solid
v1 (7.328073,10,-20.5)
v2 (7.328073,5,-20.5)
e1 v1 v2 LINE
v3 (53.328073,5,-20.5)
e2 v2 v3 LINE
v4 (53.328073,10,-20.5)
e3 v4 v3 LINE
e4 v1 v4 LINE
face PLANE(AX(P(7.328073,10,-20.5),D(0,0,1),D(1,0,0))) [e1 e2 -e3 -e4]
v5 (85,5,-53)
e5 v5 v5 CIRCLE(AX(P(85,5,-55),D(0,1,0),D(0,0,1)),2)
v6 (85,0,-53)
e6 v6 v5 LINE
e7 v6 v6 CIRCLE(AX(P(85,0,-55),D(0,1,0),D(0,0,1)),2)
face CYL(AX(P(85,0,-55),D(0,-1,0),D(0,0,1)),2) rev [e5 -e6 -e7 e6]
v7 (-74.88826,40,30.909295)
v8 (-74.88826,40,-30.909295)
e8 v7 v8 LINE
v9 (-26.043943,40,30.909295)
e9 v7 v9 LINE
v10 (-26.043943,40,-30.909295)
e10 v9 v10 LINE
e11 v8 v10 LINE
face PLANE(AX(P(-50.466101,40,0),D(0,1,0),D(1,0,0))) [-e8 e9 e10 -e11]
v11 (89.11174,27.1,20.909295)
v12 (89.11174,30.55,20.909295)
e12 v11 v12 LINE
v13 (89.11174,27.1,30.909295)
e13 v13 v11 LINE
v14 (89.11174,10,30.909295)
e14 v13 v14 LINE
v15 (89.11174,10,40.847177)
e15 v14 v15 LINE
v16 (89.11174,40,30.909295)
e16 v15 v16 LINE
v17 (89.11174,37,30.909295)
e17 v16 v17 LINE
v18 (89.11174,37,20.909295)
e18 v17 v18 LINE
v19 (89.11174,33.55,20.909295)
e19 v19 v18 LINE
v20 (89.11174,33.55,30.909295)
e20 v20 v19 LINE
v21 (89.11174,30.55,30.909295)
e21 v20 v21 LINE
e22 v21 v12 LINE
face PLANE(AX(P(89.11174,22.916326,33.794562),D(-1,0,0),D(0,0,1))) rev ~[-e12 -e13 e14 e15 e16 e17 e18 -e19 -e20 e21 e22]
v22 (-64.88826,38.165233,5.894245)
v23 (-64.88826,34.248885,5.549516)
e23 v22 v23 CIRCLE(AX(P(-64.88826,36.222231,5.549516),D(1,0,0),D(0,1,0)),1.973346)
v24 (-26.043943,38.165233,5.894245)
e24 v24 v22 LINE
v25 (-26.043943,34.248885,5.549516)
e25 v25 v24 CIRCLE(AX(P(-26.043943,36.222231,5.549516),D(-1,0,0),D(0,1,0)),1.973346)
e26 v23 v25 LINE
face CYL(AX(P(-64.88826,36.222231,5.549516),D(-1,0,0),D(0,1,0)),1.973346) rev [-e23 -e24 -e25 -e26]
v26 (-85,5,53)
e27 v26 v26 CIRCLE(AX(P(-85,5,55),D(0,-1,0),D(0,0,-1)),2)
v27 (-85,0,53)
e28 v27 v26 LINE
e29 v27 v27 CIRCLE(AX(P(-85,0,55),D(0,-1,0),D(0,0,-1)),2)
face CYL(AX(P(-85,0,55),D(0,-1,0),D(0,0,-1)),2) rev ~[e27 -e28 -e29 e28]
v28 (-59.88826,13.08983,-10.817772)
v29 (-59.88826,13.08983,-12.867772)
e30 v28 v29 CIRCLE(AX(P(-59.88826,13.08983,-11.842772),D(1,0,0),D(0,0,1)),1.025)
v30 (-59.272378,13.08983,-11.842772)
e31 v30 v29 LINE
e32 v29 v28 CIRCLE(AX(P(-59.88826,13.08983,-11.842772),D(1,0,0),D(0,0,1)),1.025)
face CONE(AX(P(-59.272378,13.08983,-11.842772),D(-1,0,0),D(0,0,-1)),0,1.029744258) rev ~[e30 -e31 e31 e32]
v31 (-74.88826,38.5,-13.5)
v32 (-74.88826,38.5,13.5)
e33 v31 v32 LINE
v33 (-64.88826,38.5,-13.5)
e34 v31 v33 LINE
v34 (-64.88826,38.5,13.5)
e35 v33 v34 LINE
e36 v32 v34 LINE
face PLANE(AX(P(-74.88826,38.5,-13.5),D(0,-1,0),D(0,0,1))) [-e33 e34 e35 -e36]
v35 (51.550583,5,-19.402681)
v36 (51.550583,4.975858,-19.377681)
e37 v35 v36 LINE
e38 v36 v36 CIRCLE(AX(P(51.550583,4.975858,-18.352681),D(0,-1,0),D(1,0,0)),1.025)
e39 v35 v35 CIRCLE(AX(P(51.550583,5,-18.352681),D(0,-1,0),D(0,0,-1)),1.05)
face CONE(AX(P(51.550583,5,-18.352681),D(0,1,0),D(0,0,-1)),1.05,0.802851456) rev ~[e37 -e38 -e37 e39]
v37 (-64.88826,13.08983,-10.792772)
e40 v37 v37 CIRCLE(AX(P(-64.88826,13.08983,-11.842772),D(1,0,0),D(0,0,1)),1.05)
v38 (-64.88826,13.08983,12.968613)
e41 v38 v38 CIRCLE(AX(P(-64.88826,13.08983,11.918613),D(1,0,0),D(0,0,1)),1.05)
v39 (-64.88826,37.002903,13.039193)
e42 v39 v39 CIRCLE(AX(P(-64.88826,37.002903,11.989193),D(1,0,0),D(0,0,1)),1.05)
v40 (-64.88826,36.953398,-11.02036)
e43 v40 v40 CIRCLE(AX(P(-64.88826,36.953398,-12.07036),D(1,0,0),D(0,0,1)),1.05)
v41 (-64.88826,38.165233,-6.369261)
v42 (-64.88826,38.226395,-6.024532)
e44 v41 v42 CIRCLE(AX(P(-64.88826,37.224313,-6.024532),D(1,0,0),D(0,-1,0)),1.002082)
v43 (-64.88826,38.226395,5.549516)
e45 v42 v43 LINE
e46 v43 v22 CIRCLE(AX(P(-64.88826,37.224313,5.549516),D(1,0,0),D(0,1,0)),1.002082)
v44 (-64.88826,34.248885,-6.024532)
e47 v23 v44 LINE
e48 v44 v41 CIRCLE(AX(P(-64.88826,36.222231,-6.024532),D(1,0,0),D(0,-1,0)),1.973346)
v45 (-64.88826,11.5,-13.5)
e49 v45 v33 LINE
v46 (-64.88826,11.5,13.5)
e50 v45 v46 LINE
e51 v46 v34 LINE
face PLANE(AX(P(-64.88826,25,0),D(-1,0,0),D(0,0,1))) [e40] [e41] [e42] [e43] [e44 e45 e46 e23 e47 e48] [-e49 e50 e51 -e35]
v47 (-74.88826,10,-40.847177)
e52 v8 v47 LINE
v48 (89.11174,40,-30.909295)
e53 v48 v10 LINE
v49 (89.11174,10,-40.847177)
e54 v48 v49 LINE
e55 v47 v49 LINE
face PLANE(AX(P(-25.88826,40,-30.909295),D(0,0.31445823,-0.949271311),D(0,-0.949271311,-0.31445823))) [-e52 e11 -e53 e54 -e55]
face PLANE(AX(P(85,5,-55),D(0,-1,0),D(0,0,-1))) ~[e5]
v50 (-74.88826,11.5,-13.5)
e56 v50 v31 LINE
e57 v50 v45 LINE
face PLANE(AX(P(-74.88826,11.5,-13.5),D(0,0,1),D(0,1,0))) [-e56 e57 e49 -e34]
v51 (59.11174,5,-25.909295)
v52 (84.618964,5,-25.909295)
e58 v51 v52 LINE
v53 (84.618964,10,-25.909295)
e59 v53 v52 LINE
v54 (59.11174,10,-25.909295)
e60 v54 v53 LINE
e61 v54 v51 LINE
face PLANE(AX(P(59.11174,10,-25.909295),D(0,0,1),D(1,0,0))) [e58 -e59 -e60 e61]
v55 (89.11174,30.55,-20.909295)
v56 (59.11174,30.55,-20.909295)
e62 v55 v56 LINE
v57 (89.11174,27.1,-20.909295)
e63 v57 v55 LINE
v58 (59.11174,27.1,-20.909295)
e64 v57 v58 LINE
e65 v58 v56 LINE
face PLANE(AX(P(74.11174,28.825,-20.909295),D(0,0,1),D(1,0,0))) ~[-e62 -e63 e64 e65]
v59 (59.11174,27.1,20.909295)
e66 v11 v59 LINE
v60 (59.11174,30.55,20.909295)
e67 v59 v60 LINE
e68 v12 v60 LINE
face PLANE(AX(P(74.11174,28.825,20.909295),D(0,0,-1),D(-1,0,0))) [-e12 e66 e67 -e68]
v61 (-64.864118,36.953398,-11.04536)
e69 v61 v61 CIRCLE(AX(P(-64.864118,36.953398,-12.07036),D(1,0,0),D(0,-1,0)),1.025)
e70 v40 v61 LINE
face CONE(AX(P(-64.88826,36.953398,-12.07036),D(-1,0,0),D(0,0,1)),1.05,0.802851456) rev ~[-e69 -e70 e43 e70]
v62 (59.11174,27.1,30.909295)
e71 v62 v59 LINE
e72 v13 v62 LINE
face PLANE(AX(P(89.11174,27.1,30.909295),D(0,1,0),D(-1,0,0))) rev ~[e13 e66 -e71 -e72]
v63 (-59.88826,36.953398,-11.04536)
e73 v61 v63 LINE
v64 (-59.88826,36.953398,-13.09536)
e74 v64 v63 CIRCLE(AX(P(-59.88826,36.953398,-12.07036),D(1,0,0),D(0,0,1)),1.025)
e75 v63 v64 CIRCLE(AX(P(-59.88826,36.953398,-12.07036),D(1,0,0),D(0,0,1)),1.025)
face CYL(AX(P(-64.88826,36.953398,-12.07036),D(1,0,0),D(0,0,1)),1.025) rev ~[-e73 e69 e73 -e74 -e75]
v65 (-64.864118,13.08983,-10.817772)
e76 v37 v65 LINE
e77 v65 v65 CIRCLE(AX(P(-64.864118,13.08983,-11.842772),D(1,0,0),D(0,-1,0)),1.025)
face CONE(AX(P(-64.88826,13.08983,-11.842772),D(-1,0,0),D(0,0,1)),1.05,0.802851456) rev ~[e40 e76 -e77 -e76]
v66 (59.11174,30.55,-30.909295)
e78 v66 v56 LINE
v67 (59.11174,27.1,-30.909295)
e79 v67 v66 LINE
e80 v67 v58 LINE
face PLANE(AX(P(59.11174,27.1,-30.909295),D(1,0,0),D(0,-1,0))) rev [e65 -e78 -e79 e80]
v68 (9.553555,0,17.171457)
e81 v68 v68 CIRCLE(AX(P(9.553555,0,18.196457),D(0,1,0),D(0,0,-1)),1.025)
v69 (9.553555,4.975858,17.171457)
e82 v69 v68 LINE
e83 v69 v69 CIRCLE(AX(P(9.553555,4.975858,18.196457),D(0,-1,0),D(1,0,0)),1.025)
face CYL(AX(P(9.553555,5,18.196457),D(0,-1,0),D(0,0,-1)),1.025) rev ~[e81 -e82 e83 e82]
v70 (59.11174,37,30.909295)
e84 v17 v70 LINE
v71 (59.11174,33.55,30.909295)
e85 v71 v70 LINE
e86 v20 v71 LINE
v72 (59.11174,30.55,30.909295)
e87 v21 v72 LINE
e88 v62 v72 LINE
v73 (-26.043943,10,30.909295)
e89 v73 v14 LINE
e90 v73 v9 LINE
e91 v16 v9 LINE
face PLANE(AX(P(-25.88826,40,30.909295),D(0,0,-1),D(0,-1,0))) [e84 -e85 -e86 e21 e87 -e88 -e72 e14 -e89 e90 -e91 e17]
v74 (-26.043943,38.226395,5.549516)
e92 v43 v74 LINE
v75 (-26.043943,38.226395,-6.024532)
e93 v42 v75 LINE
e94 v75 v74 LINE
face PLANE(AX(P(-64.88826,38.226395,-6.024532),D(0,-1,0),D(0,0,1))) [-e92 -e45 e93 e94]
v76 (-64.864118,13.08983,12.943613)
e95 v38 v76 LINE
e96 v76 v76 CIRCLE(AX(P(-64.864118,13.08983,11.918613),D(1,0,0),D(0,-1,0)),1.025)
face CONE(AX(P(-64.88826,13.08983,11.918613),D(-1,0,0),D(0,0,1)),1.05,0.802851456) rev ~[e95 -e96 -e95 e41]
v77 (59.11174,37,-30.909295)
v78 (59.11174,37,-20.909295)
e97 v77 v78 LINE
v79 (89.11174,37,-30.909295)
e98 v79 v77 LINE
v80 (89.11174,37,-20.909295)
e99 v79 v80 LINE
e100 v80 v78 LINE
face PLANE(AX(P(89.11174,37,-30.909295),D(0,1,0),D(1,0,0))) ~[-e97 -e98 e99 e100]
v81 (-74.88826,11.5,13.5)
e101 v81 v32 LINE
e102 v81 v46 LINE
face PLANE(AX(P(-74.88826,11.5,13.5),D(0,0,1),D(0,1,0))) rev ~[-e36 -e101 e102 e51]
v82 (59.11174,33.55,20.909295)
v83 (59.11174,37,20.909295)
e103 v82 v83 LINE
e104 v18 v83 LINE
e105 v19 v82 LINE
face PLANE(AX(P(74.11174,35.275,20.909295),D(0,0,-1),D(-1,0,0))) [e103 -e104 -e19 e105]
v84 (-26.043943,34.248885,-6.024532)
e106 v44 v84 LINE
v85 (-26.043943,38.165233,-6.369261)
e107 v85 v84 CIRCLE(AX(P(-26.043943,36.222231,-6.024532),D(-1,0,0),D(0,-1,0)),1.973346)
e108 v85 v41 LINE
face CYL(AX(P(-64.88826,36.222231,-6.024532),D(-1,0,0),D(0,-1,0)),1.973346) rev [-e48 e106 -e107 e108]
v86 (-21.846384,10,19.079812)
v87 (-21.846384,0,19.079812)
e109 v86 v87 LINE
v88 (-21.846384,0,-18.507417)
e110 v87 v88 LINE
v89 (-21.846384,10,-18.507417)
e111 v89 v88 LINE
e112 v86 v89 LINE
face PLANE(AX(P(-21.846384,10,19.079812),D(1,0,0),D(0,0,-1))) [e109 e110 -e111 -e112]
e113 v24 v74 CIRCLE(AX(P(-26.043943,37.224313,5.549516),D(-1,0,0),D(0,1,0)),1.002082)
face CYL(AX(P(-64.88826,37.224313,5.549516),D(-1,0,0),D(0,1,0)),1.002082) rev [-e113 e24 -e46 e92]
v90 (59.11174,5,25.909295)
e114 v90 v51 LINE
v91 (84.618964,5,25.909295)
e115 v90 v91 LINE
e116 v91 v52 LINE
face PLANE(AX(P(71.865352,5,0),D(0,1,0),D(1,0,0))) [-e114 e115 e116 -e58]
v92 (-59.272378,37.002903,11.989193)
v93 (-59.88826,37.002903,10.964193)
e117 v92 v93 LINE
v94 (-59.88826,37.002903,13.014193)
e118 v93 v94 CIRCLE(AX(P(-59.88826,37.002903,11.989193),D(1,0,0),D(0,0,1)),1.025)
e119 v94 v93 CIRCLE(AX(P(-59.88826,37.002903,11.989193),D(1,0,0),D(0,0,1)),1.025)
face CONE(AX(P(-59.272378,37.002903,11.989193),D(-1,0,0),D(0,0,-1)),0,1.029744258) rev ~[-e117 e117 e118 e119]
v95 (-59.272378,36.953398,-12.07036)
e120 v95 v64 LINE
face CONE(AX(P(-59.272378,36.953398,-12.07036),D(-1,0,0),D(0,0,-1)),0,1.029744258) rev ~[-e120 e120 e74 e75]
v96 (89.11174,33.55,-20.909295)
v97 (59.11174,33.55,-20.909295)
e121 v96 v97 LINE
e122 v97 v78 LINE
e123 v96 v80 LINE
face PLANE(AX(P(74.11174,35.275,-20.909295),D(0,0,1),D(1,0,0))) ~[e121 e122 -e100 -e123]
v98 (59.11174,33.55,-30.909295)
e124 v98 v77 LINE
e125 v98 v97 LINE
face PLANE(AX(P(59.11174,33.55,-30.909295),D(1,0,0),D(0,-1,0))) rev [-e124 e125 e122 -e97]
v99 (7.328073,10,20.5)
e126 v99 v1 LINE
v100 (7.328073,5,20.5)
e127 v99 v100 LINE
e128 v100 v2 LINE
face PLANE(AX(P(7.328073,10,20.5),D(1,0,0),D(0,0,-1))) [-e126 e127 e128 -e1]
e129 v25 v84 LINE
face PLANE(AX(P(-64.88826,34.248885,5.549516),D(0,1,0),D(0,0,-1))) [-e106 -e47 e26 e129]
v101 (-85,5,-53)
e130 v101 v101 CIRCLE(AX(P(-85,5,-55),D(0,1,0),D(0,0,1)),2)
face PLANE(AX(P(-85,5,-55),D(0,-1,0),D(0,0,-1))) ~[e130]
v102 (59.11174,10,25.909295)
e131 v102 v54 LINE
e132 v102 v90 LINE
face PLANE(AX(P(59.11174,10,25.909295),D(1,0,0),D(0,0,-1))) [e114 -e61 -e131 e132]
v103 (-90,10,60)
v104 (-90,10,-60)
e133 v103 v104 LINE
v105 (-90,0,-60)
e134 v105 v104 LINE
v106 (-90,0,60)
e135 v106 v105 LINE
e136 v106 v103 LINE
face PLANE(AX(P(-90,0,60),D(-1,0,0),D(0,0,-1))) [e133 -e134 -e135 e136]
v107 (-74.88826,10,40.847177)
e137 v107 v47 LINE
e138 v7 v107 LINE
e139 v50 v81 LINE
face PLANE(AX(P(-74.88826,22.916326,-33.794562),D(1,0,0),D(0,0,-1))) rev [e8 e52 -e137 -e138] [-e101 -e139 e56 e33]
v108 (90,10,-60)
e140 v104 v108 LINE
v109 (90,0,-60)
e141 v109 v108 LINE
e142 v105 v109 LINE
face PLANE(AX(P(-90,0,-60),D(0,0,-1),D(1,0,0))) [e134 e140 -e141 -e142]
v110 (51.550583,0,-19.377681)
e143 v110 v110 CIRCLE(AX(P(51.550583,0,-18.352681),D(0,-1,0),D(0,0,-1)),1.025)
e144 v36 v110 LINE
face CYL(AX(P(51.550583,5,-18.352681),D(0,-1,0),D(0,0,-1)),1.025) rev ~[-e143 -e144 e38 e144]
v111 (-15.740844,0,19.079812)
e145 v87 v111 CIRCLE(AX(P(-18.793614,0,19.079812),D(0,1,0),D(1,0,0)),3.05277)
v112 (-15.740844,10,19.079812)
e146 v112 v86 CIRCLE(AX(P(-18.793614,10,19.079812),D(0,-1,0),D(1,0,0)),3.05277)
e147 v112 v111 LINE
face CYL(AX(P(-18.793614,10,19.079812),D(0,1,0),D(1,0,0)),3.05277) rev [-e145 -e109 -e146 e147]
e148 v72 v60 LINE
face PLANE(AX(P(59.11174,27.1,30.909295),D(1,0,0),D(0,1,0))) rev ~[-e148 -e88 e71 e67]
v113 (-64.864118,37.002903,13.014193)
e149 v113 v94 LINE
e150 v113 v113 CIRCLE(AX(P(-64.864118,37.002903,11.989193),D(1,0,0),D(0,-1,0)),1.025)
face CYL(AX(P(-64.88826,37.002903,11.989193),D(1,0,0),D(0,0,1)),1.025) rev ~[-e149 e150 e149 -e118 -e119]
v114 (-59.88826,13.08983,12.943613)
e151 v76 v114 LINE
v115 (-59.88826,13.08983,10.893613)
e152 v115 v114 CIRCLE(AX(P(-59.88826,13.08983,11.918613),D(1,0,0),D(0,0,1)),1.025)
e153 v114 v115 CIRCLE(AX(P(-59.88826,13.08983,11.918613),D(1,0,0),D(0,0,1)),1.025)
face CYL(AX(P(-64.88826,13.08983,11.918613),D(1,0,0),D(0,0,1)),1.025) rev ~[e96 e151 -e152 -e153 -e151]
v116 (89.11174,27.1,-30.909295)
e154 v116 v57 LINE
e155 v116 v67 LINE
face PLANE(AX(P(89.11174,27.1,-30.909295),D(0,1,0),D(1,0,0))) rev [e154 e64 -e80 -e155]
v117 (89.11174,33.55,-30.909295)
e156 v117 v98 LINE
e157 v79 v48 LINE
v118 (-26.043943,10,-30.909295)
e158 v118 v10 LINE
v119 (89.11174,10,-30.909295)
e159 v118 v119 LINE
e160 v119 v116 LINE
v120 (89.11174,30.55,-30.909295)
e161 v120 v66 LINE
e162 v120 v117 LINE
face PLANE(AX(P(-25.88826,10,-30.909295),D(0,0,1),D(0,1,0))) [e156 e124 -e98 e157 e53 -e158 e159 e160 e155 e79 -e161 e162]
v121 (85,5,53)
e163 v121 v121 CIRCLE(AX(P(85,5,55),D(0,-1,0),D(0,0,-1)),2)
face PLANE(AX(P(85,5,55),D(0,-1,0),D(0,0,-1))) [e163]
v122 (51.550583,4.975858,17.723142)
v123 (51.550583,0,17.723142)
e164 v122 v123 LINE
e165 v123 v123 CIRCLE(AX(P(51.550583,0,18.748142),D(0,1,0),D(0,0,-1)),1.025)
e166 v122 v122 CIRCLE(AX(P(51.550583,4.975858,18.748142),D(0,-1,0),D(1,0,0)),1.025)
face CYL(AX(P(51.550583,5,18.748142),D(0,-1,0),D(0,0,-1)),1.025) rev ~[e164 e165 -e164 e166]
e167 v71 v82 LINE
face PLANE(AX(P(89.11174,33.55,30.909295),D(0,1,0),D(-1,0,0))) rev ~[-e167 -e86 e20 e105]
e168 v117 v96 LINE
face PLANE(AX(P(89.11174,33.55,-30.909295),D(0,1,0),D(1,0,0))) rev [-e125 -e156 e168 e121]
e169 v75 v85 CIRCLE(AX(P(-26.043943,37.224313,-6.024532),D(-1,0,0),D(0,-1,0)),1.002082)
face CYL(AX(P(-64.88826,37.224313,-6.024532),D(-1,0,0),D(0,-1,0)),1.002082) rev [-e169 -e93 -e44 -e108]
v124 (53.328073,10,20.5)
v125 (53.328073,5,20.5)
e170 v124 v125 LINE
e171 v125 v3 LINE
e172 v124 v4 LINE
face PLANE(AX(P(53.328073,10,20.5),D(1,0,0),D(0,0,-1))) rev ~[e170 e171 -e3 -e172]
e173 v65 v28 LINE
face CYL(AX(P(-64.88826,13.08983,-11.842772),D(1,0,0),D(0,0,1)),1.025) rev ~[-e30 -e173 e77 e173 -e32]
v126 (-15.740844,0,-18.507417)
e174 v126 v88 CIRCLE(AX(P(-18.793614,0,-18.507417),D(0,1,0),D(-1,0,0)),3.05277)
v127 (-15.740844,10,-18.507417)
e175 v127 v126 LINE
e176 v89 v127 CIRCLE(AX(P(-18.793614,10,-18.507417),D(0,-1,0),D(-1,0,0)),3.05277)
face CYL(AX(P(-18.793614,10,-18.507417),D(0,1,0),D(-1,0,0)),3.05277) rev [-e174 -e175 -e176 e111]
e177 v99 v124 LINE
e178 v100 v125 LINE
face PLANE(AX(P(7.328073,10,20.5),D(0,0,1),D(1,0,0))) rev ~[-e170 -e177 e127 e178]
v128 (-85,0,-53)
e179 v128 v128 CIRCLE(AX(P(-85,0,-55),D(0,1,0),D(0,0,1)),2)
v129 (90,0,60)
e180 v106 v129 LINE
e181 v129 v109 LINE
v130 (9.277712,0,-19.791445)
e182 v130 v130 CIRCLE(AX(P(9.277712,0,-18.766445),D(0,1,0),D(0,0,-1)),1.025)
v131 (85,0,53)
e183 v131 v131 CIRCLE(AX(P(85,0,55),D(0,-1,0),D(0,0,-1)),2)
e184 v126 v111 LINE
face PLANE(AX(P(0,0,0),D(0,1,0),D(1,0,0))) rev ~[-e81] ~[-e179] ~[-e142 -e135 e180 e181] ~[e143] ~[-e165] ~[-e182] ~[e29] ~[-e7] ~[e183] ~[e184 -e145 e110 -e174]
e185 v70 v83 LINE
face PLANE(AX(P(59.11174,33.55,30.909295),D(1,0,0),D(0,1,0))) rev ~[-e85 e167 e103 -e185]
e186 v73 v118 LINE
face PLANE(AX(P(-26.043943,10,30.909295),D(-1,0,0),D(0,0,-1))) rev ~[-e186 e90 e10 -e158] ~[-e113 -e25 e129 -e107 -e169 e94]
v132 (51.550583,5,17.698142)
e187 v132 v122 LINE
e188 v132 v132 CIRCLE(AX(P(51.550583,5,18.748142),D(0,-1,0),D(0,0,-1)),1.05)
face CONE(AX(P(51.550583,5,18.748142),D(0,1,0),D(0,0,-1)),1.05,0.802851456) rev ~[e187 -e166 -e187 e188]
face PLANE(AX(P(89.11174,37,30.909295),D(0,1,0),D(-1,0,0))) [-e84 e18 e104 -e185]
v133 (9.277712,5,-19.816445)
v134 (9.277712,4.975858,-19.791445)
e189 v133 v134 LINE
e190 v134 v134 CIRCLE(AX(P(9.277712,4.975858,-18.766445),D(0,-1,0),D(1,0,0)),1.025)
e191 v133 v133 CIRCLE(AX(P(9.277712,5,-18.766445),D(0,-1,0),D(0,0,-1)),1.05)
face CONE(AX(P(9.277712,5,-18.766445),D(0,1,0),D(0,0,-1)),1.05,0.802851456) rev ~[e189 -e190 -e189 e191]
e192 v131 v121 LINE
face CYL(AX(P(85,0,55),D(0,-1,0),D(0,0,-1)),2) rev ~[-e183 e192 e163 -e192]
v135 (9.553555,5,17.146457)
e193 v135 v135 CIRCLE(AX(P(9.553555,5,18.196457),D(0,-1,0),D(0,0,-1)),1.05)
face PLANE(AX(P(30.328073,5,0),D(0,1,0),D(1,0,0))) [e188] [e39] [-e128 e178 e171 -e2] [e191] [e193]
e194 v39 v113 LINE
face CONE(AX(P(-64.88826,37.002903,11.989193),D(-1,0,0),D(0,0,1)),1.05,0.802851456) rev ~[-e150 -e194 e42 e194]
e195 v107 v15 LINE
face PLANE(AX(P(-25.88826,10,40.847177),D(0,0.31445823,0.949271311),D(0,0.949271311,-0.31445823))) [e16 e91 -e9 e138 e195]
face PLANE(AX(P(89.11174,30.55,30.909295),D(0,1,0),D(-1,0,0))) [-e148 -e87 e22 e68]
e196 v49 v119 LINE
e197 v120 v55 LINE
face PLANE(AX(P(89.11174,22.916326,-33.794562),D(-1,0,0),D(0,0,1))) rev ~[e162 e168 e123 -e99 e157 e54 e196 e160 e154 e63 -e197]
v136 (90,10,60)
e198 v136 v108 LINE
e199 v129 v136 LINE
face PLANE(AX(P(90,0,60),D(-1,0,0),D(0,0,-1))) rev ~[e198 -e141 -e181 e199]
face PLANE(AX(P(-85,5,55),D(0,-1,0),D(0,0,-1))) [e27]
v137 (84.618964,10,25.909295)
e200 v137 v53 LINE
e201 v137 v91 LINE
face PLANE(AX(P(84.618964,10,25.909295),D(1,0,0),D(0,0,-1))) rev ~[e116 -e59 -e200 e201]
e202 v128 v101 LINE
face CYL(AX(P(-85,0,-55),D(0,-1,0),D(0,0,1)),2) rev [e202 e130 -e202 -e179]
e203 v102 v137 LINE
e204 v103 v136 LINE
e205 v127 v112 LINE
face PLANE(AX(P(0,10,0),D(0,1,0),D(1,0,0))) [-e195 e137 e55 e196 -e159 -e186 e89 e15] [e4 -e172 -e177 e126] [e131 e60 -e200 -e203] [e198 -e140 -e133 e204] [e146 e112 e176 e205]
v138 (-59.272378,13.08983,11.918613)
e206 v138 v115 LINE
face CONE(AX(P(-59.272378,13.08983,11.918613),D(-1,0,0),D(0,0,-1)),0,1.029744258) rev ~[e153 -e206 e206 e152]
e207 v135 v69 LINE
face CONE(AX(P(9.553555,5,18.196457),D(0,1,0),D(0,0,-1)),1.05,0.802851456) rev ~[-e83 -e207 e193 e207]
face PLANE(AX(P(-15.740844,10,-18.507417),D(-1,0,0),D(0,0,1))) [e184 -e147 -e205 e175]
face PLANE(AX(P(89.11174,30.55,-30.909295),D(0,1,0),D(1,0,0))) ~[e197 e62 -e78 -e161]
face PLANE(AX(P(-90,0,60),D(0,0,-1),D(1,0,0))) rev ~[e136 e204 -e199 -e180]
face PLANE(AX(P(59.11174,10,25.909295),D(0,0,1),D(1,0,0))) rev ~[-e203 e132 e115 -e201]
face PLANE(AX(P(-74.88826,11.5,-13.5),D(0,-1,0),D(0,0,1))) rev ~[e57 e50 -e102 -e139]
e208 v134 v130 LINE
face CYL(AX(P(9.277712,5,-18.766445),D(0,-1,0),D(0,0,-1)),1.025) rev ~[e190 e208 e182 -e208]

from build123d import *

# Parameters (mm, degrees)
SKETCH1_W                           = 180
SKETCH1_H                           = 120
BOSS_EXTRUDE1_DEPTH                 = 10
SKETCH2_W                           = 48.844317462
SKETCH2_H                           = 61.818589288
BOSS_EXTRUDE2_DEPTH                 = 30
SKETCH3_W                           = 27
SKETCH3_H                           = 27
CUT_EXTRUDE1_DEPTH                  = 10
CUT_EXTRUDE5_DEPTH                  = 171.851904114
TAP_DRILL_FOR_M2_5_TAP1_D           = 2.05
TAP_DRILL_FOR_M2_5_TAP1_DEPTH       = 5
TAP_DRILL_FOR_M2_5_TAP1_CSINK_D     = 2.1
TAP_DRILL_FOR_M2_5_TAP1_CSINK_ANGLE = 92
TAP_DRILL_FOR_M2_5_TAP1_TIP         = 0.615882135
CUT_EXTRUDE6_DEPTH                  = 113.249721603
BOSS_EXTRUDE3_DEPTH                 = 49
SKETCH14_W                          = 46
SKETCH14_H                          = 41
CUT_EXTRUDE8_DEPTH                  = 5
TAP_DRILL_FOR_M2_5_TAP2_D           = 2.05
TAP_DRILL_FOR_M2_5_TAP2_DEPTH       = 5
TAP_DRILL_FOR_M2_5_TAP2_CSINK_D     = 2.1
TAP_DRILL_FOR_M2_5_TAP2_CSINK_ANGLE = 92
TAP_DRILL_FOR_M2_5_TAP2_TIP         = 0.615882135
BOSS_EXTRUDE5_DEPTH                 = 115
BOSS_EXTRUDE6_DEPTH                 = 115
SKETCH29_W                          = 30
SKETCH29_H                          = 3.45
BOSS_EXTRUDE10_DEPTH                = 10
SKETCH34_R                          = 2
CUT_EXTRUDE10_DEPTH                 = 5
SKETCH25_R                          = 2
CUT_EXTRUDE11_DEPTH                 = 5
SKETCH36_W                          = 25.507224214
SKETCH36_H                          = 51.818589288
CUT_EXTRUDE12_DEPTH                 = 5
CUT_EXTRUDE14_DEPTH                 = 171.851904114


with BuildPart() as part:
    # Sketch1 → Boss-Extrude1 (new body)
    with BuildSketch(Plane(origin=(0, 0, 0), x_dir=(1, 0, 0), z_dir=(0, 1, 0))):
        Rectangle(SKETCH1_W, SKETCH1_H)
    extrude(amount=BOSS_EXTRUDE1_DEPTH)

    # Sketch2 → Boss-Extrude2 (add)
    with BuildSketch(Plane(origin=(0, 10, 0), x_dir=(1, 0, 0), z_dir=(0, 1, 0))):
        with Locations((-50.466101441, 0)):
            Rectangle(SKETCH2_W, SKETCH2_H)
    extrude(amount=BOSS_EXTRUDE2_DEPTH)

    # Sketch3 → Cut-Extrude1 (cut)
    with BuildSketch(Plane.ZY.offset(74.888260172)):
        with Locations((0, 25)):
            Rectangle(SKETCH3_W, SKETCH3_H)
    extrude(amount=-CUT_EXTRUDE1_DEPTH, mode=Mode.SUBTRACT)

    # Sketch4 → Cut-Extrude5 (cut, through all)
    with BuildSketch(Plane.ZY.offset(64.888260172)):
        with BuildLine():
            Line((-6.024531525, 38.226394973), (5.549516036, 38.226394973))
            ThreePointArc((5.549516036, 38.226394973), (6.551598076, 37.224312933), (5.549516036, 36.222230893))
            Line((5.549516036, 36.222230893), (-6.024531525, 36.222230893))
            ThreePointArc((-6.024531525, 36.222230893), (-7.026613565, 37.224312933), (-6.024531525, 38.226394973))
        make_face()
    extrude(amount=-CUT_EXTRUDE5_DEPTH, mode=Mode.SUBTRACT)

    # Tap Drill for M2.5 Tap1
    with Locations(Plane(origin=(-64.888260172, 36.953397965, -12.070360422), x_dir=(0, 0, -1), z_dir=(-1, 0, 0))):
        with Locations((0, 0), (-24.059553717, -0.049505255), (-23.988973263, 23.863567836), (-0.227588633, 23.863567836)):
            CounterSinkHole(TAP_DRILL_FOR_M2_5_TAP1_D / 2, TAP_DRILL_FOR_M2_5_TAP1_CSINK_D / 2, depth=TAP_DRILL_FOR_M2_5_TAP1_DEPTH, counter_sink_angle=TAP_DRILL_FOR_M2_5_TAP1_CSINK_ANGLE)
            with Locations((0, 0, -(TAP_DRILL_FOR_M2_5_TAP1_DEPTH + TAP_DRILL_FOR_M2_5_TAP1_TIP / 2))):  # 118° drill point
                Cone(0, TAP_DRILL_FOR_M2_5_TAP1_D / 2, TAP_DRILL_FOR_M2_5_TAP1_TIP, mode=Mode.SUBTRACT)

    # Sketch9 → Cut-Extrude6 (cut, through all)
    with BuildSketch(Plane(origin=(0, 10, 0), x_dir=(1, 0, 0), z_dir=(0, 1, 0))):
        with BuildLine():
            Line((-21.846384178, -19.079811509), (-21.846384178, 18.507417164))
            ThreePointArc((-21.846384178, 18.507417164), (-18.793614336, 21.560187005), (-15.740844495, 18.507417164))
            Line((-15.740844495, 18.507417164), (-15.740844495, -19.079811509))
            ThreePointArc((-15.740844495, -19.079811509), (-18.793614336, -22.13258135), (-21.846384178, -19.079811509))
        make_face()
    extrude(amount=-CUT_EXTRUDE6_DEPTH, mode=Mode.SUBTRACT)

    # Sketch10 → Boss-Extrude3 (add)
    with BuildSketch(Plane.ZY.offset(74.888260172)):
        Polygon((30.909294644, 10), (30.909294644, 40), (40.847177304, 10), align=None)
    boss_extrude3 = extrude(amount=-BOSS_EXTRUDE3_DEPTH)

    # Mirror2: Boss-Extrude3 across plane
    add(boss_extrude3.mirror(Plane.XY))

    # Sketch14 → Cut-Extrude8 (cut)
    with BuildSketch(Plane(origin=(0, 10, 0), x_dir=(1, 0, 0), z_dir=(0, 1, 0))):
        with Locations((30.328073167, 0)):
            Rectangle(SKETCH14_W, SKETCH14_H)
    extrude(amount=-CUT_EXTRUDE8_DEPTH, mode=Mode.SUBTRACT)

    # Tap Drill for M2.5 Tap2
    with Locations(Plane(origin=(9.553554548, 5, 18.196456661), x_dir=(0, 0, 1), z_dir=(0, 1, 0))):
        with Locations((0, 0), (-36.962901754, -0.27584255), (-36.549137929, 41.997028299), (0.551685101, 41.997028299)):
            CounterSinkHole(TAP_DRILL_FOR_M2_5_TAP2_D / 2, TAP_DRILL_FOR_M2_5_TAP2_CSINK_D / 2, depth=TAP_DRILL_FOR_M2_5_TAP2_DEPTH, counter_sink_angle=TAP_DRILL_FOR_M2_5_TAP2_CSINK_ANGLE)
            with Locations((0, 0, -(TAP_DRILL_FOR_M2_5_TAP2_DEPTH + TAP_DRILL_FOR_M2_5_TAP2_TIP / 2))):  # 118° drill point
                Cone(0, TAP_DRILL_FOR_M2_5_TAP2_D / 2, TAP_DRILL_FOR_M2_5_TAP2_TIP, mode=Mode.SUBTRACT)

    # Sketch18 → Boss-Extrude5 (add)
    with BuildSketch(Plane(origin=(-25.888260172, 0, 0), x_dir=(0, 0, -1), z_dir=(1, 0, 0))):
        Polygon((40.847177304, 10), (30.909294644, 10), (30.909294644, 40), align=None)
    extrude(amount=BOSS_EXTRUDE5_DEPTH)

    # Sketch19 → Boss-Extrude6 (add)
    with BuildSketch(Plane(origin=(-25.888260172, 0, 0), x_dir=(0, 0, -1), z_dir=(1, 0, 0))):
        Polygon((-30.909294644, 10), (-40.847177304, 10), (-30.909294644, 40), align=None)
    extrude(amount=BOSS_EXTRUDE6_DEPTH)

    # Sketch29 → Boss-Extrude10 (add)
    with BuildSketch(Plane(origin=(0, 0, 30.909294644), x_dir=(-1, 0, 0), z_dir=(0, 0, -1))):
        with Locations((-74.111739828, 35.275)):
            Rectangle(SKETCH29_W, SKETCH29_H)
        with Locations((-74.111739828, 28.825)):
            Rectangle(SKETCH29_W, SKETCH29_H)
    boss_extrude10 = extrude(amount=BOSS_EXTRUDE10_DEPTH)

    # Mirror3: Boss-Extrude10 across plane
    add(boss_extrude10.mirror(Plane.XY))

    # Sketch34 → Cut-Extrude10 (cut)
    with BuildSketch(Plane.XZ):
        with Locations(Location((-85, 55, 0), (0, 0, 270))):
            Circle(SKETCH34_R)
    cut_extrude10 = extrude(amount=-CUT_EXTRUDE10_DEPTH, mode=Mode.SUBTRACT)

    # Sketch25 → Cut-Extrude11 (cut)
    with BuildSketch(Plane.XZ):
        with Locations(Location((85, 55, 0), (0, 0, 270))):
            Circle(SKETCH25_R)
    cut_extrude11 = extrude(amount=-CUT_EXTRUDE11_DEPTH, mode=Mode.SUBTRACT)

    # Mirror4: Cut-Extrude10, Cut-Extrude11 across plane
    add(cut_extrude10.mirror(Plane.XY), mode=Mode.SUBTRACT)
    add(cut_extrude11.mirror(Plane.XY), mode=Mode.SUBTRACT)

    # Sketch36 → Cut-Extrude12 (cut)
    with BuildSketch(Plane(origin=(0, 10, 0), x_dir=(1, 0, 0), z_dir=(0, 1, 0))):
        with Locations((71.865351935, 0)):
            Rectangle(SKETCH36_W, SKETCH36_H)
    extrude(amount=-CUT_EXTRUDE12_DEPTH, mode=Mode.SUBTRACT)

    # Sketch39 → Cut-Extrude14 (cut, through all)
    with BuildSketch(Plane.ZY.offset(64.888260172)):
        with BuildLine():
            Line((-6.024531525, 38.195576912), (5.549516036, 38.195576912))
            ThreePointArc((5.549516036, 38.195576912), (7.522862055, 36.222230893), (5.549516036, 34.248884873))
            Line((5.549516036, 34.248884873), (-6.024531525, 34.248884873))
            ThreePointArc((-6.024531525, 34.248884873), (-7.997877545, 36.222230893), (-6.024531525, 38.195576912))
        make_face()
    extrude(amount=-CUT_EXTRUDE14_DEPTH, mode=Mode.SUBTRACT)


solid = part.part
